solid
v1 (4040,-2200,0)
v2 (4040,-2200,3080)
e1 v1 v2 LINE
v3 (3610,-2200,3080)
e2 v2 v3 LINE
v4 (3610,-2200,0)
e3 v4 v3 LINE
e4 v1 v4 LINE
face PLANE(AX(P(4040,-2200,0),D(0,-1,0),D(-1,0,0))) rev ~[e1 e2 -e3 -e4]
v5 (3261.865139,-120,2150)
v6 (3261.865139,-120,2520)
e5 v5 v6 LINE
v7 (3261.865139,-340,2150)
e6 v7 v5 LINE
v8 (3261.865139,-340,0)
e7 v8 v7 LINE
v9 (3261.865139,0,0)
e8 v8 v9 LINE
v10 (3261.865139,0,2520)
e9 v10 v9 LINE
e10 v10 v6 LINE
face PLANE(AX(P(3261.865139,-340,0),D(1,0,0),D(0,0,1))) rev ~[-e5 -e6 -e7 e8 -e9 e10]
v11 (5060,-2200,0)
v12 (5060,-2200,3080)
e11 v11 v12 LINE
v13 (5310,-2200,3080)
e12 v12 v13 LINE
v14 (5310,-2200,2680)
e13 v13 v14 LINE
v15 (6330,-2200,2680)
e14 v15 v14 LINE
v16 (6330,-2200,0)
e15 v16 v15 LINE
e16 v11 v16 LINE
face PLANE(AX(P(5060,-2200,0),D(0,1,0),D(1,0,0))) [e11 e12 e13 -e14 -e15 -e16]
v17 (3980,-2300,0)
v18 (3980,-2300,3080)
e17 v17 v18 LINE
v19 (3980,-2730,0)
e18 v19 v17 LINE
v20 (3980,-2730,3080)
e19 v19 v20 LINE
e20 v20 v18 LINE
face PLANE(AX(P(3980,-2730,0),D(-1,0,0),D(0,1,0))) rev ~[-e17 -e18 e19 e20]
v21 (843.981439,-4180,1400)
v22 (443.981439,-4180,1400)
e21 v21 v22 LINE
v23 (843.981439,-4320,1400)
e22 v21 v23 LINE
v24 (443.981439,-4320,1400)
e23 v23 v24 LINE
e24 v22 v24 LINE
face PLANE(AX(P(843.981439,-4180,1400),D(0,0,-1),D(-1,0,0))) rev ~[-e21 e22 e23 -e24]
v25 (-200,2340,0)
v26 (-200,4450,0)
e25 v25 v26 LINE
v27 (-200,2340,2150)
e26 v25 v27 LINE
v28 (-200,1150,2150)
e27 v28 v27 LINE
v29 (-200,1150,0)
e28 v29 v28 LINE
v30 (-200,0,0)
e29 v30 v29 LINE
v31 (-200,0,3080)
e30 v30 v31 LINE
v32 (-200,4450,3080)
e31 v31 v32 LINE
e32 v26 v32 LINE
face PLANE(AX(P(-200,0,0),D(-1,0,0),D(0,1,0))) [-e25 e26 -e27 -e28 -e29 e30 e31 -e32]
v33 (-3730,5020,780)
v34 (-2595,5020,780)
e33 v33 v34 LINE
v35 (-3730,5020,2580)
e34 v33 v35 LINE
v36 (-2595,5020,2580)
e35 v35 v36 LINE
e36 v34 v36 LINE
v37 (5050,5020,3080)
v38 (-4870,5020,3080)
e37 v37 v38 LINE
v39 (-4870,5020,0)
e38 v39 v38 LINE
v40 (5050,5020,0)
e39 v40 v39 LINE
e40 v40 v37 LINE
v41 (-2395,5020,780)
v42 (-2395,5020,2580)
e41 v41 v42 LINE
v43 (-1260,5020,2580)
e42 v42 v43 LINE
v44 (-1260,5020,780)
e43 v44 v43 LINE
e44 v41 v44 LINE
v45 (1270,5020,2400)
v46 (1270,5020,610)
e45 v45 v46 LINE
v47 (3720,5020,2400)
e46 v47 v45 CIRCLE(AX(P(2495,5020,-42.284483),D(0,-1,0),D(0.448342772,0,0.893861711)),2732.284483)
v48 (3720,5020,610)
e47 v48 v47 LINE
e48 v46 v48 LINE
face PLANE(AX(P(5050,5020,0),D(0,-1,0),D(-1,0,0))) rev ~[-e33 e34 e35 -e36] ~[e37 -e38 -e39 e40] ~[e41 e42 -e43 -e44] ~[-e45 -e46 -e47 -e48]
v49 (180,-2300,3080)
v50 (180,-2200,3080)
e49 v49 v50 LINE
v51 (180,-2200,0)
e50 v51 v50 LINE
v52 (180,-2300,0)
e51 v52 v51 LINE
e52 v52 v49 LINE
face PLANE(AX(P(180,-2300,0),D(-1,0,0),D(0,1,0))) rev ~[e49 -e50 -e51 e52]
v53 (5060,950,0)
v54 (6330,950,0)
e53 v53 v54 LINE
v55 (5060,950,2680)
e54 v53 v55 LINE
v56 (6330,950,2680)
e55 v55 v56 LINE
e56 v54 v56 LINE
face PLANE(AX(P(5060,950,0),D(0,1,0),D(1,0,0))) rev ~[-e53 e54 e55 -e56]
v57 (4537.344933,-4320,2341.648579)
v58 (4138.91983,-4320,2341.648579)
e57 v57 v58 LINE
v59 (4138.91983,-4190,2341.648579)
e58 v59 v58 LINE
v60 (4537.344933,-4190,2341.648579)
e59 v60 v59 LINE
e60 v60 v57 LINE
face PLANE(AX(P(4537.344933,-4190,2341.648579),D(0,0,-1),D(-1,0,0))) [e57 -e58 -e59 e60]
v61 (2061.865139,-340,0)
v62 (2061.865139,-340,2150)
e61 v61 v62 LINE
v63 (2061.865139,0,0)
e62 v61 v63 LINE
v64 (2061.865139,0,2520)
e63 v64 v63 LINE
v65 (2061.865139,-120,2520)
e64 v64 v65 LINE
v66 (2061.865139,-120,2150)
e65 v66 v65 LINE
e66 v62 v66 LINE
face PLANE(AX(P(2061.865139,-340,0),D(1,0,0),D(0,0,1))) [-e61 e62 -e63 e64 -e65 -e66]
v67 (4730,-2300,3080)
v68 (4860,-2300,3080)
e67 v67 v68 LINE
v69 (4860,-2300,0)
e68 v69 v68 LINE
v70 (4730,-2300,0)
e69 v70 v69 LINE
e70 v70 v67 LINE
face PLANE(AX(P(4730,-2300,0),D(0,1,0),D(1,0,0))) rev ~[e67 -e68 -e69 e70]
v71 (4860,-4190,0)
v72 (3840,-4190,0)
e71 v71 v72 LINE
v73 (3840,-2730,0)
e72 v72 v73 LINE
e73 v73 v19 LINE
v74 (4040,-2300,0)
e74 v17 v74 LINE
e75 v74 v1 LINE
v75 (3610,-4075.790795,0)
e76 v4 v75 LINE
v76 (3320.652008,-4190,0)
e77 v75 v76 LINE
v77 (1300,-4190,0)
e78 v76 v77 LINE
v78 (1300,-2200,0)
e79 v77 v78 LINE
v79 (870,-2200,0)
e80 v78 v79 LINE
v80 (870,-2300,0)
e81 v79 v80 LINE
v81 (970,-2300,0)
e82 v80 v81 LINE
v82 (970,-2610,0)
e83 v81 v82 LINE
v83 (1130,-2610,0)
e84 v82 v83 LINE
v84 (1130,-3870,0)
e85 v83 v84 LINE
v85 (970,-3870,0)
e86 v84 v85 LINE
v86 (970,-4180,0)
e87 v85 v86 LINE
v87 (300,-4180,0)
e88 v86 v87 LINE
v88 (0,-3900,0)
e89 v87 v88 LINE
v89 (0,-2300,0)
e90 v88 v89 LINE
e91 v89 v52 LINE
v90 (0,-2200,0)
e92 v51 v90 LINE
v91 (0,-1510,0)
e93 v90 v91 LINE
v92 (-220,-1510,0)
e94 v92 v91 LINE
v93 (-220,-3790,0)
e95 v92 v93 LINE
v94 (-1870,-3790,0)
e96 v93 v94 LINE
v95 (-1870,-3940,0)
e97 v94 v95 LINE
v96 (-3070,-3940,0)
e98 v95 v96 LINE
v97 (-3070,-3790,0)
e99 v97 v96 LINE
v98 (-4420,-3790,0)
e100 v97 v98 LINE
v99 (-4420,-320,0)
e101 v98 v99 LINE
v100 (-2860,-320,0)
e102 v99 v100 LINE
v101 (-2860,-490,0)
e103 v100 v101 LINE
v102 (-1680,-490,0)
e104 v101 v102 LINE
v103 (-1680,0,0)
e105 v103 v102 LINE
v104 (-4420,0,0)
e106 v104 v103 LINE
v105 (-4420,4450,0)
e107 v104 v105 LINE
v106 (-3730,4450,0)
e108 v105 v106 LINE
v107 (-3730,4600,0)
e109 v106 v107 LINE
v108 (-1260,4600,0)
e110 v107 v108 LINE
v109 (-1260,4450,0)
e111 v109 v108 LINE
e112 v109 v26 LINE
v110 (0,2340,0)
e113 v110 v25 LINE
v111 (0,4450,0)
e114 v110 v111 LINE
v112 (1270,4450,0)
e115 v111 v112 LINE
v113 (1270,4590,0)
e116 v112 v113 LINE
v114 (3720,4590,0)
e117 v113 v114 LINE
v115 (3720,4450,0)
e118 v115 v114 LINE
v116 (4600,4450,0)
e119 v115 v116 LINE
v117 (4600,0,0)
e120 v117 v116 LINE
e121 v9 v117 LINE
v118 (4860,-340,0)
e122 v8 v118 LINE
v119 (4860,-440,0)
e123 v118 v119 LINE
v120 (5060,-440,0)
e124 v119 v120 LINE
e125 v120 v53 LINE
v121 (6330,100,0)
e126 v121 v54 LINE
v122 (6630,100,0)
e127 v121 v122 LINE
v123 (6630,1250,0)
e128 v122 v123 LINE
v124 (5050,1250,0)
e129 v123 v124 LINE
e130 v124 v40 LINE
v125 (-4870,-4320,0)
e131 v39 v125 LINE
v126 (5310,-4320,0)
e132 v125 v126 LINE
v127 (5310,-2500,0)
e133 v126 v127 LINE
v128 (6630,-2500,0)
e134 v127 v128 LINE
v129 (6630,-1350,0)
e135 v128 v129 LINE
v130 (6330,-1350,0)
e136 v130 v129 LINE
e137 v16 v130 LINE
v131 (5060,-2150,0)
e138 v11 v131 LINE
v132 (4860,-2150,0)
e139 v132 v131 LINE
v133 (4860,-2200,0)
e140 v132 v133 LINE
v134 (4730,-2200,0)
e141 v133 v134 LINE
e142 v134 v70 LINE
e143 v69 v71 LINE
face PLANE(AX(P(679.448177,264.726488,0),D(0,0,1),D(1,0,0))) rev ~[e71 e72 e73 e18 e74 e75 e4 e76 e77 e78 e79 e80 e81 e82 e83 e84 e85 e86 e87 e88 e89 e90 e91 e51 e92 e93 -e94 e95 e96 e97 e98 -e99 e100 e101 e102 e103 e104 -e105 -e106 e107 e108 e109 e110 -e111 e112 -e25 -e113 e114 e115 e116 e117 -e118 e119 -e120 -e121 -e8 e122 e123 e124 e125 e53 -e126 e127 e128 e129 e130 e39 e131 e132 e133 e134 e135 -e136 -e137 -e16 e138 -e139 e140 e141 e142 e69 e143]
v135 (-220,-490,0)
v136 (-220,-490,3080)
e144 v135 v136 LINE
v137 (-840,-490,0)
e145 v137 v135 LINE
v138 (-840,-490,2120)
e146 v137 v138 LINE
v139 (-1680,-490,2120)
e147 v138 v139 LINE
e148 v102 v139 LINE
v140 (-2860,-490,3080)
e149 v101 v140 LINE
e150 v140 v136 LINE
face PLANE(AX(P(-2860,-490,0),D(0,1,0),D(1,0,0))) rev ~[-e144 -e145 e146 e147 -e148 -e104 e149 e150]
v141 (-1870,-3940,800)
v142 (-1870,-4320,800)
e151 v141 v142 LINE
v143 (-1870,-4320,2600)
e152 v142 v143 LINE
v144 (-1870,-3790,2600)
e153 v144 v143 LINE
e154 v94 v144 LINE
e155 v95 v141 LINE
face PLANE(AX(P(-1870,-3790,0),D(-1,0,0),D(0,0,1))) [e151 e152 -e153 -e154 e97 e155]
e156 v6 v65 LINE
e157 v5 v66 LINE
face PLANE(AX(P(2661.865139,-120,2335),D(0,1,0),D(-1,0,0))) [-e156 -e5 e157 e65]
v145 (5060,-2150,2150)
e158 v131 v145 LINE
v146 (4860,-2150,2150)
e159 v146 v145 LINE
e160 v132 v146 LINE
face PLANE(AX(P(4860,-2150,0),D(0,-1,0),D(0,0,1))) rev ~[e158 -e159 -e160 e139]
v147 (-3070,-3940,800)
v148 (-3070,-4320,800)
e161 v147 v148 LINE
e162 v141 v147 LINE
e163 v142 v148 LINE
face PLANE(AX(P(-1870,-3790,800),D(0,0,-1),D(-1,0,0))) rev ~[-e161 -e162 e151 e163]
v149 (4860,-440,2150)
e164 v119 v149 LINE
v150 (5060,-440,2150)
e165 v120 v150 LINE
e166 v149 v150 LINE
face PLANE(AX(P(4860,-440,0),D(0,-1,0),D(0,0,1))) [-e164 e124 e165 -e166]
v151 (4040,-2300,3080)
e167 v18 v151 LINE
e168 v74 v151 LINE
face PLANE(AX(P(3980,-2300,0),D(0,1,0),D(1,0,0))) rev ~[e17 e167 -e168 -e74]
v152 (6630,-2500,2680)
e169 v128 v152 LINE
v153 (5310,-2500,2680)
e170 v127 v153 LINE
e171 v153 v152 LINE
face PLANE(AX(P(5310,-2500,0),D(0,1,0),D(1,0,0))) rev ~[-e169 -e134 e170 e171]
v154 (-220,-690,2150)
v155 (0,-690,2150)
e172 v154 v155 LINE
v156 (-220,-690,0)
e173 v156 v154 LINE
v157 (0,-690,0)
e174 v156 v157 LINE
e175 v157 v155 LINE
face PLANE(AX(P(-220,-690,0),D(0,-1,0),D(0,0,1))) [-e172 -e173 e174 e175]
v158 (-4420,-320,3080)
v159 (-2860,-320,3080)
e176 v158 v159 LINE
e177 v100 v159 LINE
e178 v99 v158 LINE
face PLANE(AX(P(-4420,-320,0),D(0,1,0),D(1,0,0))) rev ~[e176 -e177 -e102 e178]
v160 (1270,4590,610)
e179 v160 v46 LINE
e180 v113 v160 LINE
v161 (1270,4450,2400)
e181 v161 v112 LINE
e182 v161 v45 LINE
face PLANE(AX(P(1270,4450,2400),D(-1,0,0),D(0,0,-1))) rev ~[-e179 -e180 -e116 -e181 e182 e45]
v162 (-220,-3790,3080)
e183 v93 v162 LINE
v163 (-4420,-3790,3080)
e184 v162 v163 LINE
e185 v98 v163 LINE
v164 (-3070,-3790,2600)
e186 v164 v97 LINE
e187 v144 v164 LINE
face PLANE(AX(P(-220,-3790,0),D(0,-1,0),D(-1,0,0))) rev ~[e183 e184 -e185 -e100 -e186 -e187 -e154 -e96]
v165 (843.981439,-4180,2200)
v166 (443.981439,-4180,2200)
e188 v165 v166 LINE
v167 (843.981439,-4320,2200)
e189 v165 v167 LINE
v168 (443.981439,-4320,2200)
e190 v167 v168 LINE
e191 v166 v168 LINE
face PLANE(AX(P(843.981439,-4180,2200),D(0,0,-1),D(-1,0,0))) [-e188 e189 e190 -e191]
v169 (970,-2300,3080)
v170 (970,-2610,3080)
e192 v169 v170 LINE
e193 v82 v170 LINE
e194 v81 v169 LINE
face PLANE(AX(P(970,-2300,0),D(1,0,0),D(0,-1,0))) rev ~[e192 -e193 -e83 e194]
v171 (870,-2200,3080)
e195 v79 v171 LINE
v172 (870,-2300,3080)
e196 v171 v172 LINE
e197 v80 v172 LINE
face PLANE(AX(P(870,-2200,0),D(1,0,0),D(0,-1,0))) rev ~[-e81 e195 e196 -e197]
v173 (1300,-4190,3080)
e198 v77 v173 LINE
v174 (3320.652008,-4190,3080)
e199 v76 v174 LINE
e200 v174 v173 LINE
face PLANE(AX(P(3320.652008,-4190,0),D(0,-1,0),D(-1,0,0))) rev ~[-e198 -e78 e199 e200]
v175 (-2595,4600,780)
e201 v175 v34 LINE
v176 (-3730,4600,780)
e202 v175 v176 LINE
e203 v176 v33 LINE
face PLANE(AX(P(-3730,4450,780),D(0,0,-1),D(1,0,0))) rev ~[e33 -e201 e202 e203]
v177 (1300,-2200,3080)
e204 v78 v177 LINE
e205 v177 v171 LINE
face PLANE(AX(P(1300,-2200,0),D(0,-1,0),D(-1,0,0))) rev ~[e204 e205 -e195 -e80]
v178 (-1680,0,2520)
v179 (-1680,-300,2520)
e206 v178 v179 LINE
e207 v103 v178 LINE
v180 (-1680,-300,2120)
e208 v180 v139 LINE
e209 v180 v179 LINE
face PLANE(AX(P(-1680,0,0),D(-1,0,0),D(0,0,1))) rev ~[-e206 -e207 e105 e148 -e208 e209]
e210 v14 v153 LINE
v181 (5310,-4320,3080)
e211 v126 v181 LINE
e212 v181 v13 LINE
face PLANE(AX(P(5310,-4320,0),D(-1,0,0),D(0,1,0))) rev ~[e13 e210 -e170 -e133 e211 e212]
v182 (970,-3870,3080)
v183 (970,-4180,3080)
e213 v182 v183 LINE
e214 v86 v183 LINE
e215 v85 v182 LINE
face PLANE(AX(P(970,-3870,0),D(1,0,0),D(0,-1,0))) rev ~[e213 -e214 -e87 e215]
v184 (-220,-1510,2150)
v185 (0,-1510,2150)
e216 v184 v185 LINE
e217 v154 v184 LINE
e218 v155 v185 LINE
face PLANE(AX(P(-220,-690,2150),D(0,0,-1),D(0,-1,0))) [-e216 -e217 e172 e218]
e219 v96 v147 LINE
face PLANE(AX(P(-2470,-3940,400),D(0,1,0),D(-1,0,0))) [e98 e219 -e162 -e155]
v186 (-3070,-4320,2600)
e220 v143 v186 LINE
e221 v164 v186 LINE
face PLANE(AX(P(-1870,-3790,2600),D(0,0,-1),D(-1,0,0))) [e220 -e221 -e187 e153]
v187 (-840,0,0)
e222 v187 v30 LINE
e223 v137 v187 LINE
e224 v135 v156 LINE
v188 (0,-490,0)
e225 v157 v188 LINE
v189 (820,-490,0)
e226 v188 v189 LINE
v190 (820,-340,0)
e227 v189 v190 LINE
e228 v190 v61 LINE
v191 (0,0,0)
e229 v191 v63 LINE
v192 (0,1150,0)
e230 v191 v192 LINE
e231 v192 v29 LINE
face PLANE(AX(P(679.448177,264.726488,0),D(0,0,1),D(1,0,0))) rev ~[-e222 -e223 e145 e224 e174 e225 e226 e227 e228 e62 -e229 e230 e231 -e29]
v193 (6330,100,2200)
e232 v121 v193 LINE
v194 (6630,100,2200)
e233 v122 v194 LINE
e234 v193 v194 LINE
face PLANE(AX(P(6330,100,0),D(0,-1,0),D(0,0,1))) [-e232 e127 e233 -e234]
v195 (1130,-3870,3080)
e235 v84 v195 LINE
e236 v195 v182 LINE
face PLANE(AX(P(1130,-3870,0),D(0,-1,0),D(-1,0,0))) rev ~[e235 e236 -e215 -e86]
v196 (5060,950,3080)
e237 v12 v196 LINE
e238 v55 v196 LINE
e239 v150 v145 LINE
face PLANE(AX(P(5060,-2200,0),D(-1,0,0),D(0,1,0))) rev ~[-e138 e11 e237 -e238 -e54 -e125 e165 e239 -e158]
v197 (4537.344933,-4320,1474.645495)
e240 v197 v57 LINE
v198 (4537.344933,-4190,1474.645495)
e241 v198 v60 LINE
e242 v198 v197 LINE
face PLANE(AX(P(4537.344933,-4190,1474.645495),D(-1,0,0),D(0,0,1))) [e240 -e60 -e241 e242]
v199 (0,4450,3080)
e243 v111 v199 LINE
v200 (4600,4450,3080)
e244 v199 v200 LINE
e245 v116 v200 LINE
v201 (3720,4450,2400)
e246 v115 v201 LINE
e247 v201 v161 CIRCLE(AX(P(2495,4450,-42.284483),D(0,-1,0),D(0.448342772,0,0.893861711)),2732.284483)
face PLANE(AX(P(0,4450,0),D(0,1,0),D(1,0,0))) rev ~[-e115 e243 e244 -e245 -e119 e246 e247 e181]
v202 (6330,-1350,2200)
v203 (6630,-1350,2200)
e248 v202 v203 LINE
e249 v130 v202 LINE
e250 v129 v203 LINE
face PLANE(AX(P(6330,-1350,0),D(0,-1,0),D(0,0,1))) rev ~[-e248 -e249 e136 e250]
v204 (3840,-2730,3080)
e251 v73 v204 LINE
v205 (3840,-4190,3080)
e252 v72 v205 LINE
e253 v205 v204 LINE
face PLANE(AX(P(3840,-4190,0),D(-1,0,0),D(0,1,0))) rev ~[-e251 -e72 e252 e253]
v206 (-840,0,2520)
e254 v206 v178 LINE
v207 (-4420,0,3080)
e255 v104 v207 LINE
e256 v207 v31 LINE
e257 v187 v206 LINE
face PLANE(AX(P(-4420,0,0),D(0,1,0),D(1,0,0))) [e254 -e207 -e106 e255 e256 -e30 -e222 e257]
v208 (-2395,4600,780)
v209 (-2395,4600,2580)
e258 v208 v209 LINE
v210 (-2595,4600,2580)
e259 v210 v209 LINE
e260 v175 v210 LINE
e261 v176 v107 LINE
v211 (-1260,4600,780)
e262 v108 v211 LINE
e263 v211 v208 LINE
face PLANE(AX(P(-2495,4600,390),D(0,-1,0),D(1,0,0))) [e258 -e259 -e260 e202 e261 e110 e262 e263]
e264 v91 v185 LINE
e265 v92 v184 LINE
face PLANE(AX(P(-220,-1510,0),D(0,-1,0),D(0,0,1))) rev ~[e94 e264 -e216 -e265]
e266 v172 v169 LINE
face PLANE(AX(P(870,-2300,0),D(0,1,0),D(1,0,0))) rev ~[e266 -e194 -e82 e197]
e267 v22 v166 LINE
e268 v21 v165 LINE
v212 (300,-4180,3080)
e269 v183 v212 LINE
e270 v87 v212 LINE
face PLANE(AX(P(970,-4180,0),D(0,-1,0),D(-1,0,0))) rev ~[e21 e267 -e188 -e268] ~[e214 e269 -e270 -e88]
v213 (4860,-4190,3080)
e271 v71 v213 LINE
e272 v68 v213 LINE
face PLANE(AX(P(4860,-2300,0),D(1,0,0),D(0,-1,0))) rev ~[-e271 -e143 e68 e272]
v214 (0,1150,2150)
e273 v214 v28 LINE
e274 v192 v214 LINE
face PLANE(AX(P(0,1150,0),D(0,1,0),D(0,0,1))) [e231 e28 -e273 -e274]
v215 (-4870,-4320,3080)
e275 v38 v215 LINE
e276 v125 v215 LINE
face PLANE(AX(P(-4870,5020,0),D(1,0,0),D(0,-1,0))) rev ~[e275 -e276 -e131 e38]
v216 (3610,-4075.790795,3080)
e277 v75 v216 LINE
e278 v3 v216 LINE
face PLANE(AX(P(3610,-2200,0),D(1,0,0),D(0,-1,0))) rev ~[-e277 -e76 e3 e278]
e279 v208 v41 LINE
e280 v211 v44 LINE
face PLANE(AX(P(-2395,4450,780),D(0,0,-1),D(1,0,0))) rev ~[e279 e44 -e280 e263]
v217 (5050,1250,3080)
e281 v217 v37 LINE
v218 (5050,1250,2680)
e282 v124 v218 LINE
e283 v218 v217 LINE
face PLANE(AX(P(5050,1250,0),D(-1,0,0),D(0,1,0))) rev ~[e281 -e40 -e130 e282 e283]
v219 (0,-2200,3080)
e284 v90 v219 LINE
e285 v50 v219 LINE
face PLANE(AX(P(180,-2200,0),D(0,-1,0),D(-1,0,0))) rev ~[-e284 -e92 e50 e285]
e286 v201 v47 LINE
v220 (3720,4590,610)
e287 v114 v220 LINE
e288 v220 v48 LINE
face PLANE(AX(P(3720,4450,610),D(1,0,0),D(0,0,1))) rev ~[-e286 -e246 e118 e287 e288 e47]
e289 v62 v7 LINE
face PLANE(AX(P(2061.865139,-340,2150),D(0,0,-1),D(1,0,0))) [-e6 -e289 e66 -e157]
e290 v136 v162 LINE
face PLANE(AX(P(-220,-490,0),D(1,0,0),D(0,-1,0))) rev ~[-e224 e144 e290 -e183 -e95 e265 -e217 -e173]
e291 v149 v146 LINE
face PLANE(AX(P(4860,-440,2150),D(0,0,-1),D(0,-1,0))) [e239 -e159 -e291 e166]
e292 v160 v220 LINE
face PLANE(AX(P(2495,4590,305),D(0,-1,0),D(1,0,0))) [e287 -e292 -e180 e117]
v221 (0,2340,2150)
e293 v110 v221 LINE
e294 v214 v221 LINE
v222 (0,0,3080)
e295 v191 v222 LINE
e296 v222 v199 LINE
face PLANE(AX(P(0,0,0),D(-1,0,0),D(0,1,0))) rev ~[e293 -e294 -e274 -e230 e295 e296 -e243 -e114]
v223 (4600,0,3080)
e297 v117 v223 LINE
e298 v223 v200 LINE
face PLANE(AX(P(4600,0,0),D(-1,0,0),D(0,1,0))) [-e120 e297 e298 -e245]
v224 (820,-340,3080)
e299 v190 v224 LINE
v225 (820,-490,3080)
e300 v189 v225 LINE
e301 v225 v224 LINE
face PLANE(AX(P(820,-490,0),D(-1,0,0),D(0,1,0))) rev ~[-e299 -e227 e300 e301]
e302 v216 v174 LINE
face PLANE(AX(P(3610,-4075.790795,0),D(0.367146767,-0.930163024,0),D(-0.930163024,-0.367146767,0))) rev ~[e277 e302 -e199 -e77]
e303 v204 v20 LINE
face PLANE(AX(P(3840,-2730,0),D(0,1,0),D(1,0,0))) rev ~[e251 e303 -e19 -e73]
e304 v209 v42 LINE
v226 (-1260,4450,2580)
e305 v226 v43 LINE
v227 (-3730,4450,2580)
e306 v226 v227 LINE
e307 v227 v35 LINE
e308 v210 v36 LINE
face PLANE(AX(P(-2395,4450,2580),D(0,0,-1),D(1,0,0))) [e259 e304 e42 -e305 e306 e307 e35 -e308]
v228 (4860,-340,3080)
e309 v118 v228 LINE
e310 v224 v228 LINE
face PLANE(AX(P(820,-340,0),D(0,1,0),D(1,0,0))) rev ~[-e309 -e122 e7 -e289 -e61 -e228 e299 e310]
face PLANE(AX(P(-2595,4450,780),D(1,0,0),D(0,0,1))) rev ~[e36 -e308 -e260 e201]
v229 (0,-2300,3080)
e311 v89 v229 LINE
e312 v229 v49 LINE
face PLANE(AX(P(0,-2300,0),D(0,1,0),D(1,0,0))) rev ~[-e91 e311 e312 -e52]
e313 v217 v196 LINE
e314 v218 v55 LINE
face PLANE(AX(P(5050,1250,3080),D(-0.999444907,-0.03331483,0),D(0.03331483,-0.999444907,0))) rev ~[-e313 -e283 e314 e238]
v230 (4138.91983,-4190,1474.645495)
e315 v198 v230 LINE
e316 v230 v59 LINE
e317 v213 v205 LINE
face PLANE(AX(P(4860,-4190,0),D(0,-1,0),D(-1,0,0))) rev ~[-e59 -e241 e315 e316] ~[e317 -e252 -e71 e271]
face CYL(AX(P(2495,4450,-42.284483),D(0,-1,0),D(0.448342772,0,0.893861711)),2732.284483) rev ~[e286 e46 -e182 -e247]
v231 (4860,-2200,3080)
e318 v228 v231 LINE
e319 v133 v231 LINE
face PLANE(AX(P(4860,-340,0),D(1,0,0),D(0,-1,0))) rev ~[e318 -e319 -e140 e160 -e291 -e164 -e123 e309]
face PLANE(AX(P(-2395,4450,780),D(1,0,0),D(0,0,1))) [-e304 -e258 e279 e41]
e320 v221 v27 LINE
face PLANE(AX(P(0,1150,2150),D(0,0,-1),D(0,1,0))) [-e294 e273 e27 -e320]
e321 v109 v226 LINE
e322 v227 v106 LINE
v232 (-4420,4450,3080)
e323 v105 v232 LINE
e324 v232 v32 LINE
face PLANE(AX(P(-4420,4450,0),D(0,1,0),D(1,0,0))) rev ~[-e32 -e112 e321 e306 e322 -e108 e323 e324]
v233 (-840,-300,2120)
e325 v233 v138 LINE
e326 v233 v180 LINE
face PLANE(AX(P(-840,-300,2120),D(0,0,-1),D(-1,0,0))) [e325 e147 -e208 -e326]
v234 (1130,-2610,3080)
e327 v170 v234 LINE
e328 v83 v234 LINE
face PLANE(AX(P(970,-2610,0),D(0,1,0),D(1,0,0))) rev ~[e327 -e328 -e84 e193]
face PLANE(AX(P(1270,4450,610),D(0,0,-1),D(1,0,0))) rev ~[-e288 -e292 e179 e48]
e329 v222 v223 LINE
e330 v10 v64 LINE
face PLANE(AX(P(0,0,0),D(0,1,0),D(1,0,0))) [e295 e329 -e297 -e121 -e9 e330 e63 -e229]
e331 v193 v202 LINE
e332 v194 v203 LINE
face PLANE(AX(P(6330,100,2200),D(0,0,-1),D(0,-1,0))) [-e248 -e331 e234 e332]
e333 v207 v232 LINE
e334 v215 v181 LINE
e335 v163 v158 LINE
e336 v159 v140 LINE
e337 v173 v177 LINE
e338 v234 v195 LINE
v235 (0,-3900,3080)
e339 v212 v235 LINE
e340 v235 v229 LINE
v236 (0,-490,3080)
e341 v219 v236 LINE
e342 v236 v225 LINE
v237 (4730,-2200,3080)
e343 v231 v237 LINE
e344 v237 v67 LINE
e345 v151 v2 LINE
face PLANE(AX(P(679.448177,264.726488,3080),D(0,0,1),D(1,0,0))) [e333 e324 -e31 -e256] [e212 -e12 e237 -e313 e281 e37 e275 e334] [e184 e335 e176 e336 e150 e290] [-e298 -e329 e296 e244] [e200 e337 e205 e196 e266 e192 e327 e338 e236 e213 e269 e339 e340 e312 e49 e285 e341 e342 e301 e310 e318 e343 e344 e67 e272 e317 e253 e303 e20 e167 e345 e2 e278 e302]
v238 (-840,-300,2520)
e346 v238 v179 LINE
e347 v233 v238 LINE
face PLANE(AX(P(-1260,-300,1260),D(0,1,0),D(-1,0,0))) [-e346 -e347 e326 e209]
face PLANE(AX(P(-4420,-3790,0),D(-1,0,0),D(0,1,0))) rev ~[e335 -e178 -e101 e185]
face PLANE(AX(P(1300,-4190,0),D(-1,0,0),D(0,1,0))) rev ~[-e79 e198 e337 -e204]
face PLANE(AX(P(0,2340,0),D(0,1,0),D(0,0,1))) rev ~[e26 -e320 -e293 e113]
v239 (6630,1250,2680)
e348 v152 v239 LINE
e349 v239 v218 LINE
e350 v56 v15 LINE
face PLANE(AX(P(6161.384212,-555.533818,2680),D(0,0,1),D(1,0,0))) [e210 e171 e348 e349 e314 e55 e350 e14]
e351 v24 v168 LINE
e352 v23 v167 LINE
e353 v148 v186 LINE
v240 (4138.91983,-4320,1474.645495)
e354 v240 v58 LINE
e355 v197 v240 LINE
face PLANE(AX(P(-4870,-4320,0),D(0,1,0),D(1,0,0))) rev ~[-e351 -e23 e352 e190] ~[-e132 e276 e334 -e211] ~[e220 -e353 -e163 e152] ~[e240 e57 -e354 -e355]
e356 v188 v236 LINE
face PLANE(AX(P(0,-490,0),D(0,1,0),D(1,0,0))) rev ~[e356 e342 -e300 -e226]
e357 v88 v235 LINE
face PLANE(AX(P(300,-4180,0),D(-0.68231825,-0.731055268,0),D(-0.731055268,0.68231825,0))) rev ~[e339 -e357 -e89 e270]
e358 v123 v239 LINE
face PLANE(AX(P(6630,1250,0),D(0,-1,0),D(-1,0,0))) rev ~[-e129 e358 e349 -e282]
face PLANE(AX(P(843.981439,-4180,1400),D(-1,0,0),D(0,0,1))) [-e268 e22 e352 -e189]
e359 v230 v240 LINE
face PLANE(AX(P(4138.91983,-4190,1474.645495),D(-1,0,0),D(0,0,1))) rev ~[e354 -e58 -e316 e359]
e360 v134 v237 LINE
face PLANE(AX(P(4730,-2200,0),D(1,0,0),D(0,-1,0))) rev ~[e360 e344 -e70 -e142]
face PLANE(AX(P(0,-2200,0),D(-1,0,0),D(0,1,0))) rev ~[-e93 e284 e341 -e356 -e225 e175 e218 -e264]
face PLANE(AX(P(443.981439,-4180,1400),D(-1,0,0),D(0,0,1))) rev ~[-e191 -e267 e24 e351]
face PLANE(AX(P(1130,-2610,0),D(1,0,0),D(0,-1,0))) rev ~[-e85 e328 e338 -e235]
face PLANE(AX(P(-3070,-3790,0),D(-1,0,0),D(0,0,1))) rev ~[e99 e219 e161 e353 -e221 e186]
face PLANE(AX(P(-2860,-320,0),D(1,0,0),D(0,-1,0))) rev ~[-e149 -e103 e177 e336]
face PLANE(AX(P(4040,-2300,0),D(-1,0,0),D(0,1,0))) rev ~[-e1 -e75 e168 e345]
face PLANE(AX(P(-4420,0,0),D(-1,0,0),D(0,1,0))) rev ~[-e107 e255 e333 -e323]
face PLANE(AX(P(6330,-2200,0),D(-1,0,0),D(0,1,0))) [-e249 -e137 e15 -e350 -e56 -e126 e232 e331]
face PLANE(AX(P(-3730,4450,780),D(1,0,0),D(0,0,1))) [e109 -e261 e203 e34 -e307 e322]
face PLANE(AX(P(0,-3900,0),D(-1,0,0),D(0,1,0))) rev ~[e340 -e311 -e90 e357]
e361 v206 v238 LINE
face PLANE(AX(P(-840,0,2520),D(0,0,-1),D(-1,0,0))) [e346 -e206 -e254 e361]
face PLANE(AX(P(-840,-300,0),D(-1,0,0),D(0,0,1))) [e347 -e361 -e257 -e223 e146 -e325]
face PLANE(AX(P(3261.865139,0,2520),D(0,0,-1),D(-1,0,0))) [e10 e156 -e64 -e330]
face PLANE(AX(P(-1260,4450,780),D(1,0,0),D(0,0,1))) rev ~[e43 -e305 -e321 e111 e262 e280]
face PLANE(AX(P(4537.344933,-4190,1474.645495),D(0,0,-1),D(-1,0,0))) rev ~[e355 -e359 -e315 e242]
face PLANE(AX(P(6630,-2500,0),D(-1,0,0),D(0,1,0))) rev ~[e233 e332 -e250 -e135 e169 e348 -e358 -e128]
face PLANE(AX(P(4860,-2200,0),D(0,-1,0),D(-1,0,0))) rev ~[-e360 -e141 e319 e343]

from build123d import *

# Parameters (mm, degrees)
F0_W      = 1270
F0_H      = 3150
F0_W_2    = 4220
F0_H_2    = 4450
F0_W_3    = 4600
F1_DEPTH  = 3080
F2_W      = 1200
F2_H      = 2150
F3_DEPTH  = 340
F4_W      = 1200
F4_H      = 370
F5_DEPTH  = 120
F6_W      = 1190
F6_H      = 2150
F7_DEPTH  = 200
F8_W      = 1450
F8_H      = 2200
F9_DEPTH  = 300
F10_W     = 840
F10_H     = 2520
F11_DEPTH = 300
F12_W     = 840
F12_H     = 2120
F13_DEPTH = 190
F14_W     = 820
F14_H     = 2150
F15_DEPTH = 220
F16_W     = 1200
F16_H     = 1800
F17_DEPTH = 530
F18_W     = 1135
F18_H     = 1800
F19_DEPTH = 570
F21_DEPTH = 570
F23_DEPTH = 400
F24_W     = 1710
F24_H     = 2150
F25_DEPTH = 200
F26_W     = 400
F26_H     = 800
F27_DEPTH = 140
F28_W     = 398.4251022339
F28_H     = 867.0030832291
F29_DEPTH = 130
F30_W     = 200
F30_H     = 1800
F31_DEPTH = 150
F32_W     = 2450
F32_H     = 610
F33_DEPTH = 140
F34_W     = 1200
F34_H     = 800
F35_DEPTH = 150


with BuildPart() as f1:
    # F0 (on Top) → F1 (new body)
    with BuildSketch(Plane.XY):
        Polygon((5050, 1250), (5050, 5020), (-4870, 5020), (-4870, -4320), (5310, -4320), (5310, -2500), (6630, -2500), (6630, 1250), align=None)
        Polygon((-2860, -490), (-220, -490), (-220, -3790), (-4420, -3790), (-4420, -320), (-2860, -320), align=None, mode=Mode.SUBTRACT)
        Polygon((0, -2200), (0, -490), (820, -490), (820, -340), (4860, -340), (4860, -2200), (4730, -2200), (4730, -2300), (4860, -2300), (4860, -4190), (3840, -4190), (3840, -2730), (3980, -2730), (3980, -2300), (4040, -2300), (4040, -2200), (3610, -2200), (3610, -4075.7907946323), (3320.6520080566, -4190), (1300, -4190), (1300, -2200), (870, -2200), (870, -2300), (970, -2300), (970, -2610), (1130, -2610), (1130, -3870), (970, -3870), (970, -4180), (300, -4180), (0, -3900), (0, -2300), (180, -2300), (180, -2200), align=None, mode=Mode.SUBTRACT)
        with Locations((5695, -625)):
            Rectangle(F0_W, F0_H, mode=Mode.SUBTRACT)
        with Locations((-2310, 2225)):
            Rectangle(F0_W_2, F0_H_2, mode=Mode.SUBTRACT)
        with Locations((2300, 2225)):
            Rectangle(F0_W_3, F0_H_2, mode=Mode.SUBTRACT)
    extrude(amount=F1_DEPTH)

    # F2 (on face) → F3 (cut, through all)
    with BuildSketch(Plane.XZ.offset(340)):
        with Locations((2661.8651390076, 1075)):
            Rectangle(F2_W, F2_H)
    extrude(amount=-F3_DEPTH, mode=Mode.SUBTRACT)

    # F4 (on face) → F5 (cut)
    with BuildSketch(Plane(origin=(0, 0, 0), x_dir=(-1, 0, 0), z_dir=(0, 1, 0))):
        with Locations((-2661.8651390076, 2335)):
            Rectangle(F4_W, F4_H)
    extrude(amount=-F5_DEPTH, mode=Mode.SUBTRACT)

    # F6 (on face) → F7 (cut, through all)
    with BuildSketch(Plane.YZ):
        with Locations((1745, 1075)):
            Rectangle(F6_W, F6_H)
    extrude(amount=-F7_DEPTH, mode=Mode.SUBTRACT)

    # F8 (on face) → F9 (cut, through all)
    with BuildSketch(Plane(origin=(6330, 0, 0), x_dir=(0, -1, 0), z_dir=(-1, 0, 0))):
        with Locations((625, 1100)):
            Rectangle(F8_W, F8_H)
    extrude(amount=-F9_DEPTH, mode=Mode.SUBTRACT)

    # F10 (on face) → F11 (cut)
    with BuildSketch(Plane(origin=(0, 0, 0), x_dir=(-1, 0, 0), z_dir=(0, 1, 0))):
        with Locations((1260, 1260)):
            Rectangle(F10_W, F10_H)
    extrude(amount=-F11_DEPTH, mode=Mode.SUBTRACT)

    # F12 (on face) → F13 (cut, through all)
    with BuildSketch(Plane(origin=(0, -300, 0), x_dir=(-1, 0, 0), z_dir=(0, 1, 0))):
        with Locations((1260, 1060)):
            Rectangle(F12_W, F12_H)
    extrude(amount=-F13_DEPTH, mode=Mode.SUBTRACT)

    # F14 (on face) → F15 (cut, through all)
    with BuildSketch(Plane(origin=(-220, 0, 0), x_dir=(0, -1, 0), z_dir=(-1, 0, 0))):
        with Locations((1100, 1075)):
            Rectangle(F14_W, F14_H)
    extrude(amount=-F15_DEPTH, mode=Mode.SUBTRACT)

    # F16 (on face) → F17 (cut, through all)
    with BuildSketch(Plane(origin=(0, -3790, 0), x_dir=(-1, 0, 0), z_dir=(0, 1, 0))):
        with Locations((2470, 1700)):
            Rectangle(F16_W, F16_H)
    extrude(amount=-F17_DEPTH, mode=Mode.SUBTRACT)

    # F18 (on face) → F19 (cut, through all)
    with BuildSketch(Plane.XZ.offset(-4450)):
        with Locations((-1827.5, 1680)):
            Rectangle(F18_W, F18_H)
        with Locations((-3162.5, 1680)):
            Rectangle(F18_W, F18_H)
    extrude(amount=-F19_DEPTH, mode=Mode.SUBTRACT)

    # F20 (on face) → F21 (cut, through all)
    with BuildSketch(Plane.XZ.offset(-4450)):
        with BuildLine():
            Line((1270, 610), (3720, 610))
            Line((3720, 610), (3720, 2400))
            ThreePointArc((3720, 2400), (2495, 2690), (1270, 2400))
            Line((1270, 2400), (1270, 610))
        make_face()
    extrude(amount=-F21_DEPTH, mode=Mode.SUBTRACT)

    # F22 (on face) → F23 (cut)
    with BuildSketch(Plane.XY.offset(3080)):
        Polygon((5310, -2200), (5310, -2500), (6630, -2500), (6630, 1250), (5050, 1250), (5060, 950), (6330, 950), (6330, -2200), align=None)
    extrude(amount=-F23_DEPTH, mode=Mode.SUBTRACT)

    # F24 (on face) → F25 (cut, through all)
    with BuildSketch(Plane(origin=(4860, 0, 0), x_dir=(0, -1, 0), z_dir=(-1, 0, 0))):
        with Locations((1295, 1075)):
            Rectangle(F24_W, F24_H)
    extrude(amount=-F25_DEPTH, mode=Mode.SUBTRACT)

    # F26 (on face) → F27 (cut, through all)
    with BuildSketch(Plane(origin=(0, -4180, 0), x_dir=(-1, 0, 0), z_dir=(0, 1, 0))):
        with Locations((-643.9814388752, 1800)):
            Rectangle(F26_W, F26_H)
    extrude(amount=-F27_DEPTH, mode=Mode.SUBTRACT)

    # F28 (on face) → F29 (cut, through all)
    with BuildSketch(Plane(origin=(0, -4190, 0), x_dir=(-1, 0, 0), z_dir=(0, 1, 0))):
        with Locations((-4338.1323814392, 1908.1470370293)):
            Rectangle(F28_W, F28_H)
    extrude(amount=-F29_DEPTH, mode=Mode.SUBTRACT)

    # F30 (on face) → F31 (cut)
    with BuildSketch(Plane.XZ.offset(-4450)):
        Polygon((-2595, 780), (-3730, 780), (-3730, 0), (-1260, 0), (-1260, 780), (-2395, 780), align=None)
        with Locations((-2495, 1680)):
            Rectangle(F30_W, F30_H)
    extrude(amount=-F31_DEPTH, mode=Mode.SUBTRACT)

    # F32 (on face) → F33 (cut)
    with BuildSketch(Plane.XZ.offset(-4450)):
        with Locations((2495, 305)):
            Rectangle(F32_W, F32_H)
    extrude(amount=-F33_DEPTH, mode=Mode.SUBTRACT)

    # F34 (on face) → F35 (cut)
    with BuildSketch(Plane(origin=(0, -3790, 0), x_dir=(-1, 0, 0), z_dir=(0, 1, 0))):
        with Locations((2470, 400)):
            Rectangle(F34_W, F34_H)
    extrude(amount=-F35_DEPTH, mode=Mode.SUBTRACT)


solid = f1.part
